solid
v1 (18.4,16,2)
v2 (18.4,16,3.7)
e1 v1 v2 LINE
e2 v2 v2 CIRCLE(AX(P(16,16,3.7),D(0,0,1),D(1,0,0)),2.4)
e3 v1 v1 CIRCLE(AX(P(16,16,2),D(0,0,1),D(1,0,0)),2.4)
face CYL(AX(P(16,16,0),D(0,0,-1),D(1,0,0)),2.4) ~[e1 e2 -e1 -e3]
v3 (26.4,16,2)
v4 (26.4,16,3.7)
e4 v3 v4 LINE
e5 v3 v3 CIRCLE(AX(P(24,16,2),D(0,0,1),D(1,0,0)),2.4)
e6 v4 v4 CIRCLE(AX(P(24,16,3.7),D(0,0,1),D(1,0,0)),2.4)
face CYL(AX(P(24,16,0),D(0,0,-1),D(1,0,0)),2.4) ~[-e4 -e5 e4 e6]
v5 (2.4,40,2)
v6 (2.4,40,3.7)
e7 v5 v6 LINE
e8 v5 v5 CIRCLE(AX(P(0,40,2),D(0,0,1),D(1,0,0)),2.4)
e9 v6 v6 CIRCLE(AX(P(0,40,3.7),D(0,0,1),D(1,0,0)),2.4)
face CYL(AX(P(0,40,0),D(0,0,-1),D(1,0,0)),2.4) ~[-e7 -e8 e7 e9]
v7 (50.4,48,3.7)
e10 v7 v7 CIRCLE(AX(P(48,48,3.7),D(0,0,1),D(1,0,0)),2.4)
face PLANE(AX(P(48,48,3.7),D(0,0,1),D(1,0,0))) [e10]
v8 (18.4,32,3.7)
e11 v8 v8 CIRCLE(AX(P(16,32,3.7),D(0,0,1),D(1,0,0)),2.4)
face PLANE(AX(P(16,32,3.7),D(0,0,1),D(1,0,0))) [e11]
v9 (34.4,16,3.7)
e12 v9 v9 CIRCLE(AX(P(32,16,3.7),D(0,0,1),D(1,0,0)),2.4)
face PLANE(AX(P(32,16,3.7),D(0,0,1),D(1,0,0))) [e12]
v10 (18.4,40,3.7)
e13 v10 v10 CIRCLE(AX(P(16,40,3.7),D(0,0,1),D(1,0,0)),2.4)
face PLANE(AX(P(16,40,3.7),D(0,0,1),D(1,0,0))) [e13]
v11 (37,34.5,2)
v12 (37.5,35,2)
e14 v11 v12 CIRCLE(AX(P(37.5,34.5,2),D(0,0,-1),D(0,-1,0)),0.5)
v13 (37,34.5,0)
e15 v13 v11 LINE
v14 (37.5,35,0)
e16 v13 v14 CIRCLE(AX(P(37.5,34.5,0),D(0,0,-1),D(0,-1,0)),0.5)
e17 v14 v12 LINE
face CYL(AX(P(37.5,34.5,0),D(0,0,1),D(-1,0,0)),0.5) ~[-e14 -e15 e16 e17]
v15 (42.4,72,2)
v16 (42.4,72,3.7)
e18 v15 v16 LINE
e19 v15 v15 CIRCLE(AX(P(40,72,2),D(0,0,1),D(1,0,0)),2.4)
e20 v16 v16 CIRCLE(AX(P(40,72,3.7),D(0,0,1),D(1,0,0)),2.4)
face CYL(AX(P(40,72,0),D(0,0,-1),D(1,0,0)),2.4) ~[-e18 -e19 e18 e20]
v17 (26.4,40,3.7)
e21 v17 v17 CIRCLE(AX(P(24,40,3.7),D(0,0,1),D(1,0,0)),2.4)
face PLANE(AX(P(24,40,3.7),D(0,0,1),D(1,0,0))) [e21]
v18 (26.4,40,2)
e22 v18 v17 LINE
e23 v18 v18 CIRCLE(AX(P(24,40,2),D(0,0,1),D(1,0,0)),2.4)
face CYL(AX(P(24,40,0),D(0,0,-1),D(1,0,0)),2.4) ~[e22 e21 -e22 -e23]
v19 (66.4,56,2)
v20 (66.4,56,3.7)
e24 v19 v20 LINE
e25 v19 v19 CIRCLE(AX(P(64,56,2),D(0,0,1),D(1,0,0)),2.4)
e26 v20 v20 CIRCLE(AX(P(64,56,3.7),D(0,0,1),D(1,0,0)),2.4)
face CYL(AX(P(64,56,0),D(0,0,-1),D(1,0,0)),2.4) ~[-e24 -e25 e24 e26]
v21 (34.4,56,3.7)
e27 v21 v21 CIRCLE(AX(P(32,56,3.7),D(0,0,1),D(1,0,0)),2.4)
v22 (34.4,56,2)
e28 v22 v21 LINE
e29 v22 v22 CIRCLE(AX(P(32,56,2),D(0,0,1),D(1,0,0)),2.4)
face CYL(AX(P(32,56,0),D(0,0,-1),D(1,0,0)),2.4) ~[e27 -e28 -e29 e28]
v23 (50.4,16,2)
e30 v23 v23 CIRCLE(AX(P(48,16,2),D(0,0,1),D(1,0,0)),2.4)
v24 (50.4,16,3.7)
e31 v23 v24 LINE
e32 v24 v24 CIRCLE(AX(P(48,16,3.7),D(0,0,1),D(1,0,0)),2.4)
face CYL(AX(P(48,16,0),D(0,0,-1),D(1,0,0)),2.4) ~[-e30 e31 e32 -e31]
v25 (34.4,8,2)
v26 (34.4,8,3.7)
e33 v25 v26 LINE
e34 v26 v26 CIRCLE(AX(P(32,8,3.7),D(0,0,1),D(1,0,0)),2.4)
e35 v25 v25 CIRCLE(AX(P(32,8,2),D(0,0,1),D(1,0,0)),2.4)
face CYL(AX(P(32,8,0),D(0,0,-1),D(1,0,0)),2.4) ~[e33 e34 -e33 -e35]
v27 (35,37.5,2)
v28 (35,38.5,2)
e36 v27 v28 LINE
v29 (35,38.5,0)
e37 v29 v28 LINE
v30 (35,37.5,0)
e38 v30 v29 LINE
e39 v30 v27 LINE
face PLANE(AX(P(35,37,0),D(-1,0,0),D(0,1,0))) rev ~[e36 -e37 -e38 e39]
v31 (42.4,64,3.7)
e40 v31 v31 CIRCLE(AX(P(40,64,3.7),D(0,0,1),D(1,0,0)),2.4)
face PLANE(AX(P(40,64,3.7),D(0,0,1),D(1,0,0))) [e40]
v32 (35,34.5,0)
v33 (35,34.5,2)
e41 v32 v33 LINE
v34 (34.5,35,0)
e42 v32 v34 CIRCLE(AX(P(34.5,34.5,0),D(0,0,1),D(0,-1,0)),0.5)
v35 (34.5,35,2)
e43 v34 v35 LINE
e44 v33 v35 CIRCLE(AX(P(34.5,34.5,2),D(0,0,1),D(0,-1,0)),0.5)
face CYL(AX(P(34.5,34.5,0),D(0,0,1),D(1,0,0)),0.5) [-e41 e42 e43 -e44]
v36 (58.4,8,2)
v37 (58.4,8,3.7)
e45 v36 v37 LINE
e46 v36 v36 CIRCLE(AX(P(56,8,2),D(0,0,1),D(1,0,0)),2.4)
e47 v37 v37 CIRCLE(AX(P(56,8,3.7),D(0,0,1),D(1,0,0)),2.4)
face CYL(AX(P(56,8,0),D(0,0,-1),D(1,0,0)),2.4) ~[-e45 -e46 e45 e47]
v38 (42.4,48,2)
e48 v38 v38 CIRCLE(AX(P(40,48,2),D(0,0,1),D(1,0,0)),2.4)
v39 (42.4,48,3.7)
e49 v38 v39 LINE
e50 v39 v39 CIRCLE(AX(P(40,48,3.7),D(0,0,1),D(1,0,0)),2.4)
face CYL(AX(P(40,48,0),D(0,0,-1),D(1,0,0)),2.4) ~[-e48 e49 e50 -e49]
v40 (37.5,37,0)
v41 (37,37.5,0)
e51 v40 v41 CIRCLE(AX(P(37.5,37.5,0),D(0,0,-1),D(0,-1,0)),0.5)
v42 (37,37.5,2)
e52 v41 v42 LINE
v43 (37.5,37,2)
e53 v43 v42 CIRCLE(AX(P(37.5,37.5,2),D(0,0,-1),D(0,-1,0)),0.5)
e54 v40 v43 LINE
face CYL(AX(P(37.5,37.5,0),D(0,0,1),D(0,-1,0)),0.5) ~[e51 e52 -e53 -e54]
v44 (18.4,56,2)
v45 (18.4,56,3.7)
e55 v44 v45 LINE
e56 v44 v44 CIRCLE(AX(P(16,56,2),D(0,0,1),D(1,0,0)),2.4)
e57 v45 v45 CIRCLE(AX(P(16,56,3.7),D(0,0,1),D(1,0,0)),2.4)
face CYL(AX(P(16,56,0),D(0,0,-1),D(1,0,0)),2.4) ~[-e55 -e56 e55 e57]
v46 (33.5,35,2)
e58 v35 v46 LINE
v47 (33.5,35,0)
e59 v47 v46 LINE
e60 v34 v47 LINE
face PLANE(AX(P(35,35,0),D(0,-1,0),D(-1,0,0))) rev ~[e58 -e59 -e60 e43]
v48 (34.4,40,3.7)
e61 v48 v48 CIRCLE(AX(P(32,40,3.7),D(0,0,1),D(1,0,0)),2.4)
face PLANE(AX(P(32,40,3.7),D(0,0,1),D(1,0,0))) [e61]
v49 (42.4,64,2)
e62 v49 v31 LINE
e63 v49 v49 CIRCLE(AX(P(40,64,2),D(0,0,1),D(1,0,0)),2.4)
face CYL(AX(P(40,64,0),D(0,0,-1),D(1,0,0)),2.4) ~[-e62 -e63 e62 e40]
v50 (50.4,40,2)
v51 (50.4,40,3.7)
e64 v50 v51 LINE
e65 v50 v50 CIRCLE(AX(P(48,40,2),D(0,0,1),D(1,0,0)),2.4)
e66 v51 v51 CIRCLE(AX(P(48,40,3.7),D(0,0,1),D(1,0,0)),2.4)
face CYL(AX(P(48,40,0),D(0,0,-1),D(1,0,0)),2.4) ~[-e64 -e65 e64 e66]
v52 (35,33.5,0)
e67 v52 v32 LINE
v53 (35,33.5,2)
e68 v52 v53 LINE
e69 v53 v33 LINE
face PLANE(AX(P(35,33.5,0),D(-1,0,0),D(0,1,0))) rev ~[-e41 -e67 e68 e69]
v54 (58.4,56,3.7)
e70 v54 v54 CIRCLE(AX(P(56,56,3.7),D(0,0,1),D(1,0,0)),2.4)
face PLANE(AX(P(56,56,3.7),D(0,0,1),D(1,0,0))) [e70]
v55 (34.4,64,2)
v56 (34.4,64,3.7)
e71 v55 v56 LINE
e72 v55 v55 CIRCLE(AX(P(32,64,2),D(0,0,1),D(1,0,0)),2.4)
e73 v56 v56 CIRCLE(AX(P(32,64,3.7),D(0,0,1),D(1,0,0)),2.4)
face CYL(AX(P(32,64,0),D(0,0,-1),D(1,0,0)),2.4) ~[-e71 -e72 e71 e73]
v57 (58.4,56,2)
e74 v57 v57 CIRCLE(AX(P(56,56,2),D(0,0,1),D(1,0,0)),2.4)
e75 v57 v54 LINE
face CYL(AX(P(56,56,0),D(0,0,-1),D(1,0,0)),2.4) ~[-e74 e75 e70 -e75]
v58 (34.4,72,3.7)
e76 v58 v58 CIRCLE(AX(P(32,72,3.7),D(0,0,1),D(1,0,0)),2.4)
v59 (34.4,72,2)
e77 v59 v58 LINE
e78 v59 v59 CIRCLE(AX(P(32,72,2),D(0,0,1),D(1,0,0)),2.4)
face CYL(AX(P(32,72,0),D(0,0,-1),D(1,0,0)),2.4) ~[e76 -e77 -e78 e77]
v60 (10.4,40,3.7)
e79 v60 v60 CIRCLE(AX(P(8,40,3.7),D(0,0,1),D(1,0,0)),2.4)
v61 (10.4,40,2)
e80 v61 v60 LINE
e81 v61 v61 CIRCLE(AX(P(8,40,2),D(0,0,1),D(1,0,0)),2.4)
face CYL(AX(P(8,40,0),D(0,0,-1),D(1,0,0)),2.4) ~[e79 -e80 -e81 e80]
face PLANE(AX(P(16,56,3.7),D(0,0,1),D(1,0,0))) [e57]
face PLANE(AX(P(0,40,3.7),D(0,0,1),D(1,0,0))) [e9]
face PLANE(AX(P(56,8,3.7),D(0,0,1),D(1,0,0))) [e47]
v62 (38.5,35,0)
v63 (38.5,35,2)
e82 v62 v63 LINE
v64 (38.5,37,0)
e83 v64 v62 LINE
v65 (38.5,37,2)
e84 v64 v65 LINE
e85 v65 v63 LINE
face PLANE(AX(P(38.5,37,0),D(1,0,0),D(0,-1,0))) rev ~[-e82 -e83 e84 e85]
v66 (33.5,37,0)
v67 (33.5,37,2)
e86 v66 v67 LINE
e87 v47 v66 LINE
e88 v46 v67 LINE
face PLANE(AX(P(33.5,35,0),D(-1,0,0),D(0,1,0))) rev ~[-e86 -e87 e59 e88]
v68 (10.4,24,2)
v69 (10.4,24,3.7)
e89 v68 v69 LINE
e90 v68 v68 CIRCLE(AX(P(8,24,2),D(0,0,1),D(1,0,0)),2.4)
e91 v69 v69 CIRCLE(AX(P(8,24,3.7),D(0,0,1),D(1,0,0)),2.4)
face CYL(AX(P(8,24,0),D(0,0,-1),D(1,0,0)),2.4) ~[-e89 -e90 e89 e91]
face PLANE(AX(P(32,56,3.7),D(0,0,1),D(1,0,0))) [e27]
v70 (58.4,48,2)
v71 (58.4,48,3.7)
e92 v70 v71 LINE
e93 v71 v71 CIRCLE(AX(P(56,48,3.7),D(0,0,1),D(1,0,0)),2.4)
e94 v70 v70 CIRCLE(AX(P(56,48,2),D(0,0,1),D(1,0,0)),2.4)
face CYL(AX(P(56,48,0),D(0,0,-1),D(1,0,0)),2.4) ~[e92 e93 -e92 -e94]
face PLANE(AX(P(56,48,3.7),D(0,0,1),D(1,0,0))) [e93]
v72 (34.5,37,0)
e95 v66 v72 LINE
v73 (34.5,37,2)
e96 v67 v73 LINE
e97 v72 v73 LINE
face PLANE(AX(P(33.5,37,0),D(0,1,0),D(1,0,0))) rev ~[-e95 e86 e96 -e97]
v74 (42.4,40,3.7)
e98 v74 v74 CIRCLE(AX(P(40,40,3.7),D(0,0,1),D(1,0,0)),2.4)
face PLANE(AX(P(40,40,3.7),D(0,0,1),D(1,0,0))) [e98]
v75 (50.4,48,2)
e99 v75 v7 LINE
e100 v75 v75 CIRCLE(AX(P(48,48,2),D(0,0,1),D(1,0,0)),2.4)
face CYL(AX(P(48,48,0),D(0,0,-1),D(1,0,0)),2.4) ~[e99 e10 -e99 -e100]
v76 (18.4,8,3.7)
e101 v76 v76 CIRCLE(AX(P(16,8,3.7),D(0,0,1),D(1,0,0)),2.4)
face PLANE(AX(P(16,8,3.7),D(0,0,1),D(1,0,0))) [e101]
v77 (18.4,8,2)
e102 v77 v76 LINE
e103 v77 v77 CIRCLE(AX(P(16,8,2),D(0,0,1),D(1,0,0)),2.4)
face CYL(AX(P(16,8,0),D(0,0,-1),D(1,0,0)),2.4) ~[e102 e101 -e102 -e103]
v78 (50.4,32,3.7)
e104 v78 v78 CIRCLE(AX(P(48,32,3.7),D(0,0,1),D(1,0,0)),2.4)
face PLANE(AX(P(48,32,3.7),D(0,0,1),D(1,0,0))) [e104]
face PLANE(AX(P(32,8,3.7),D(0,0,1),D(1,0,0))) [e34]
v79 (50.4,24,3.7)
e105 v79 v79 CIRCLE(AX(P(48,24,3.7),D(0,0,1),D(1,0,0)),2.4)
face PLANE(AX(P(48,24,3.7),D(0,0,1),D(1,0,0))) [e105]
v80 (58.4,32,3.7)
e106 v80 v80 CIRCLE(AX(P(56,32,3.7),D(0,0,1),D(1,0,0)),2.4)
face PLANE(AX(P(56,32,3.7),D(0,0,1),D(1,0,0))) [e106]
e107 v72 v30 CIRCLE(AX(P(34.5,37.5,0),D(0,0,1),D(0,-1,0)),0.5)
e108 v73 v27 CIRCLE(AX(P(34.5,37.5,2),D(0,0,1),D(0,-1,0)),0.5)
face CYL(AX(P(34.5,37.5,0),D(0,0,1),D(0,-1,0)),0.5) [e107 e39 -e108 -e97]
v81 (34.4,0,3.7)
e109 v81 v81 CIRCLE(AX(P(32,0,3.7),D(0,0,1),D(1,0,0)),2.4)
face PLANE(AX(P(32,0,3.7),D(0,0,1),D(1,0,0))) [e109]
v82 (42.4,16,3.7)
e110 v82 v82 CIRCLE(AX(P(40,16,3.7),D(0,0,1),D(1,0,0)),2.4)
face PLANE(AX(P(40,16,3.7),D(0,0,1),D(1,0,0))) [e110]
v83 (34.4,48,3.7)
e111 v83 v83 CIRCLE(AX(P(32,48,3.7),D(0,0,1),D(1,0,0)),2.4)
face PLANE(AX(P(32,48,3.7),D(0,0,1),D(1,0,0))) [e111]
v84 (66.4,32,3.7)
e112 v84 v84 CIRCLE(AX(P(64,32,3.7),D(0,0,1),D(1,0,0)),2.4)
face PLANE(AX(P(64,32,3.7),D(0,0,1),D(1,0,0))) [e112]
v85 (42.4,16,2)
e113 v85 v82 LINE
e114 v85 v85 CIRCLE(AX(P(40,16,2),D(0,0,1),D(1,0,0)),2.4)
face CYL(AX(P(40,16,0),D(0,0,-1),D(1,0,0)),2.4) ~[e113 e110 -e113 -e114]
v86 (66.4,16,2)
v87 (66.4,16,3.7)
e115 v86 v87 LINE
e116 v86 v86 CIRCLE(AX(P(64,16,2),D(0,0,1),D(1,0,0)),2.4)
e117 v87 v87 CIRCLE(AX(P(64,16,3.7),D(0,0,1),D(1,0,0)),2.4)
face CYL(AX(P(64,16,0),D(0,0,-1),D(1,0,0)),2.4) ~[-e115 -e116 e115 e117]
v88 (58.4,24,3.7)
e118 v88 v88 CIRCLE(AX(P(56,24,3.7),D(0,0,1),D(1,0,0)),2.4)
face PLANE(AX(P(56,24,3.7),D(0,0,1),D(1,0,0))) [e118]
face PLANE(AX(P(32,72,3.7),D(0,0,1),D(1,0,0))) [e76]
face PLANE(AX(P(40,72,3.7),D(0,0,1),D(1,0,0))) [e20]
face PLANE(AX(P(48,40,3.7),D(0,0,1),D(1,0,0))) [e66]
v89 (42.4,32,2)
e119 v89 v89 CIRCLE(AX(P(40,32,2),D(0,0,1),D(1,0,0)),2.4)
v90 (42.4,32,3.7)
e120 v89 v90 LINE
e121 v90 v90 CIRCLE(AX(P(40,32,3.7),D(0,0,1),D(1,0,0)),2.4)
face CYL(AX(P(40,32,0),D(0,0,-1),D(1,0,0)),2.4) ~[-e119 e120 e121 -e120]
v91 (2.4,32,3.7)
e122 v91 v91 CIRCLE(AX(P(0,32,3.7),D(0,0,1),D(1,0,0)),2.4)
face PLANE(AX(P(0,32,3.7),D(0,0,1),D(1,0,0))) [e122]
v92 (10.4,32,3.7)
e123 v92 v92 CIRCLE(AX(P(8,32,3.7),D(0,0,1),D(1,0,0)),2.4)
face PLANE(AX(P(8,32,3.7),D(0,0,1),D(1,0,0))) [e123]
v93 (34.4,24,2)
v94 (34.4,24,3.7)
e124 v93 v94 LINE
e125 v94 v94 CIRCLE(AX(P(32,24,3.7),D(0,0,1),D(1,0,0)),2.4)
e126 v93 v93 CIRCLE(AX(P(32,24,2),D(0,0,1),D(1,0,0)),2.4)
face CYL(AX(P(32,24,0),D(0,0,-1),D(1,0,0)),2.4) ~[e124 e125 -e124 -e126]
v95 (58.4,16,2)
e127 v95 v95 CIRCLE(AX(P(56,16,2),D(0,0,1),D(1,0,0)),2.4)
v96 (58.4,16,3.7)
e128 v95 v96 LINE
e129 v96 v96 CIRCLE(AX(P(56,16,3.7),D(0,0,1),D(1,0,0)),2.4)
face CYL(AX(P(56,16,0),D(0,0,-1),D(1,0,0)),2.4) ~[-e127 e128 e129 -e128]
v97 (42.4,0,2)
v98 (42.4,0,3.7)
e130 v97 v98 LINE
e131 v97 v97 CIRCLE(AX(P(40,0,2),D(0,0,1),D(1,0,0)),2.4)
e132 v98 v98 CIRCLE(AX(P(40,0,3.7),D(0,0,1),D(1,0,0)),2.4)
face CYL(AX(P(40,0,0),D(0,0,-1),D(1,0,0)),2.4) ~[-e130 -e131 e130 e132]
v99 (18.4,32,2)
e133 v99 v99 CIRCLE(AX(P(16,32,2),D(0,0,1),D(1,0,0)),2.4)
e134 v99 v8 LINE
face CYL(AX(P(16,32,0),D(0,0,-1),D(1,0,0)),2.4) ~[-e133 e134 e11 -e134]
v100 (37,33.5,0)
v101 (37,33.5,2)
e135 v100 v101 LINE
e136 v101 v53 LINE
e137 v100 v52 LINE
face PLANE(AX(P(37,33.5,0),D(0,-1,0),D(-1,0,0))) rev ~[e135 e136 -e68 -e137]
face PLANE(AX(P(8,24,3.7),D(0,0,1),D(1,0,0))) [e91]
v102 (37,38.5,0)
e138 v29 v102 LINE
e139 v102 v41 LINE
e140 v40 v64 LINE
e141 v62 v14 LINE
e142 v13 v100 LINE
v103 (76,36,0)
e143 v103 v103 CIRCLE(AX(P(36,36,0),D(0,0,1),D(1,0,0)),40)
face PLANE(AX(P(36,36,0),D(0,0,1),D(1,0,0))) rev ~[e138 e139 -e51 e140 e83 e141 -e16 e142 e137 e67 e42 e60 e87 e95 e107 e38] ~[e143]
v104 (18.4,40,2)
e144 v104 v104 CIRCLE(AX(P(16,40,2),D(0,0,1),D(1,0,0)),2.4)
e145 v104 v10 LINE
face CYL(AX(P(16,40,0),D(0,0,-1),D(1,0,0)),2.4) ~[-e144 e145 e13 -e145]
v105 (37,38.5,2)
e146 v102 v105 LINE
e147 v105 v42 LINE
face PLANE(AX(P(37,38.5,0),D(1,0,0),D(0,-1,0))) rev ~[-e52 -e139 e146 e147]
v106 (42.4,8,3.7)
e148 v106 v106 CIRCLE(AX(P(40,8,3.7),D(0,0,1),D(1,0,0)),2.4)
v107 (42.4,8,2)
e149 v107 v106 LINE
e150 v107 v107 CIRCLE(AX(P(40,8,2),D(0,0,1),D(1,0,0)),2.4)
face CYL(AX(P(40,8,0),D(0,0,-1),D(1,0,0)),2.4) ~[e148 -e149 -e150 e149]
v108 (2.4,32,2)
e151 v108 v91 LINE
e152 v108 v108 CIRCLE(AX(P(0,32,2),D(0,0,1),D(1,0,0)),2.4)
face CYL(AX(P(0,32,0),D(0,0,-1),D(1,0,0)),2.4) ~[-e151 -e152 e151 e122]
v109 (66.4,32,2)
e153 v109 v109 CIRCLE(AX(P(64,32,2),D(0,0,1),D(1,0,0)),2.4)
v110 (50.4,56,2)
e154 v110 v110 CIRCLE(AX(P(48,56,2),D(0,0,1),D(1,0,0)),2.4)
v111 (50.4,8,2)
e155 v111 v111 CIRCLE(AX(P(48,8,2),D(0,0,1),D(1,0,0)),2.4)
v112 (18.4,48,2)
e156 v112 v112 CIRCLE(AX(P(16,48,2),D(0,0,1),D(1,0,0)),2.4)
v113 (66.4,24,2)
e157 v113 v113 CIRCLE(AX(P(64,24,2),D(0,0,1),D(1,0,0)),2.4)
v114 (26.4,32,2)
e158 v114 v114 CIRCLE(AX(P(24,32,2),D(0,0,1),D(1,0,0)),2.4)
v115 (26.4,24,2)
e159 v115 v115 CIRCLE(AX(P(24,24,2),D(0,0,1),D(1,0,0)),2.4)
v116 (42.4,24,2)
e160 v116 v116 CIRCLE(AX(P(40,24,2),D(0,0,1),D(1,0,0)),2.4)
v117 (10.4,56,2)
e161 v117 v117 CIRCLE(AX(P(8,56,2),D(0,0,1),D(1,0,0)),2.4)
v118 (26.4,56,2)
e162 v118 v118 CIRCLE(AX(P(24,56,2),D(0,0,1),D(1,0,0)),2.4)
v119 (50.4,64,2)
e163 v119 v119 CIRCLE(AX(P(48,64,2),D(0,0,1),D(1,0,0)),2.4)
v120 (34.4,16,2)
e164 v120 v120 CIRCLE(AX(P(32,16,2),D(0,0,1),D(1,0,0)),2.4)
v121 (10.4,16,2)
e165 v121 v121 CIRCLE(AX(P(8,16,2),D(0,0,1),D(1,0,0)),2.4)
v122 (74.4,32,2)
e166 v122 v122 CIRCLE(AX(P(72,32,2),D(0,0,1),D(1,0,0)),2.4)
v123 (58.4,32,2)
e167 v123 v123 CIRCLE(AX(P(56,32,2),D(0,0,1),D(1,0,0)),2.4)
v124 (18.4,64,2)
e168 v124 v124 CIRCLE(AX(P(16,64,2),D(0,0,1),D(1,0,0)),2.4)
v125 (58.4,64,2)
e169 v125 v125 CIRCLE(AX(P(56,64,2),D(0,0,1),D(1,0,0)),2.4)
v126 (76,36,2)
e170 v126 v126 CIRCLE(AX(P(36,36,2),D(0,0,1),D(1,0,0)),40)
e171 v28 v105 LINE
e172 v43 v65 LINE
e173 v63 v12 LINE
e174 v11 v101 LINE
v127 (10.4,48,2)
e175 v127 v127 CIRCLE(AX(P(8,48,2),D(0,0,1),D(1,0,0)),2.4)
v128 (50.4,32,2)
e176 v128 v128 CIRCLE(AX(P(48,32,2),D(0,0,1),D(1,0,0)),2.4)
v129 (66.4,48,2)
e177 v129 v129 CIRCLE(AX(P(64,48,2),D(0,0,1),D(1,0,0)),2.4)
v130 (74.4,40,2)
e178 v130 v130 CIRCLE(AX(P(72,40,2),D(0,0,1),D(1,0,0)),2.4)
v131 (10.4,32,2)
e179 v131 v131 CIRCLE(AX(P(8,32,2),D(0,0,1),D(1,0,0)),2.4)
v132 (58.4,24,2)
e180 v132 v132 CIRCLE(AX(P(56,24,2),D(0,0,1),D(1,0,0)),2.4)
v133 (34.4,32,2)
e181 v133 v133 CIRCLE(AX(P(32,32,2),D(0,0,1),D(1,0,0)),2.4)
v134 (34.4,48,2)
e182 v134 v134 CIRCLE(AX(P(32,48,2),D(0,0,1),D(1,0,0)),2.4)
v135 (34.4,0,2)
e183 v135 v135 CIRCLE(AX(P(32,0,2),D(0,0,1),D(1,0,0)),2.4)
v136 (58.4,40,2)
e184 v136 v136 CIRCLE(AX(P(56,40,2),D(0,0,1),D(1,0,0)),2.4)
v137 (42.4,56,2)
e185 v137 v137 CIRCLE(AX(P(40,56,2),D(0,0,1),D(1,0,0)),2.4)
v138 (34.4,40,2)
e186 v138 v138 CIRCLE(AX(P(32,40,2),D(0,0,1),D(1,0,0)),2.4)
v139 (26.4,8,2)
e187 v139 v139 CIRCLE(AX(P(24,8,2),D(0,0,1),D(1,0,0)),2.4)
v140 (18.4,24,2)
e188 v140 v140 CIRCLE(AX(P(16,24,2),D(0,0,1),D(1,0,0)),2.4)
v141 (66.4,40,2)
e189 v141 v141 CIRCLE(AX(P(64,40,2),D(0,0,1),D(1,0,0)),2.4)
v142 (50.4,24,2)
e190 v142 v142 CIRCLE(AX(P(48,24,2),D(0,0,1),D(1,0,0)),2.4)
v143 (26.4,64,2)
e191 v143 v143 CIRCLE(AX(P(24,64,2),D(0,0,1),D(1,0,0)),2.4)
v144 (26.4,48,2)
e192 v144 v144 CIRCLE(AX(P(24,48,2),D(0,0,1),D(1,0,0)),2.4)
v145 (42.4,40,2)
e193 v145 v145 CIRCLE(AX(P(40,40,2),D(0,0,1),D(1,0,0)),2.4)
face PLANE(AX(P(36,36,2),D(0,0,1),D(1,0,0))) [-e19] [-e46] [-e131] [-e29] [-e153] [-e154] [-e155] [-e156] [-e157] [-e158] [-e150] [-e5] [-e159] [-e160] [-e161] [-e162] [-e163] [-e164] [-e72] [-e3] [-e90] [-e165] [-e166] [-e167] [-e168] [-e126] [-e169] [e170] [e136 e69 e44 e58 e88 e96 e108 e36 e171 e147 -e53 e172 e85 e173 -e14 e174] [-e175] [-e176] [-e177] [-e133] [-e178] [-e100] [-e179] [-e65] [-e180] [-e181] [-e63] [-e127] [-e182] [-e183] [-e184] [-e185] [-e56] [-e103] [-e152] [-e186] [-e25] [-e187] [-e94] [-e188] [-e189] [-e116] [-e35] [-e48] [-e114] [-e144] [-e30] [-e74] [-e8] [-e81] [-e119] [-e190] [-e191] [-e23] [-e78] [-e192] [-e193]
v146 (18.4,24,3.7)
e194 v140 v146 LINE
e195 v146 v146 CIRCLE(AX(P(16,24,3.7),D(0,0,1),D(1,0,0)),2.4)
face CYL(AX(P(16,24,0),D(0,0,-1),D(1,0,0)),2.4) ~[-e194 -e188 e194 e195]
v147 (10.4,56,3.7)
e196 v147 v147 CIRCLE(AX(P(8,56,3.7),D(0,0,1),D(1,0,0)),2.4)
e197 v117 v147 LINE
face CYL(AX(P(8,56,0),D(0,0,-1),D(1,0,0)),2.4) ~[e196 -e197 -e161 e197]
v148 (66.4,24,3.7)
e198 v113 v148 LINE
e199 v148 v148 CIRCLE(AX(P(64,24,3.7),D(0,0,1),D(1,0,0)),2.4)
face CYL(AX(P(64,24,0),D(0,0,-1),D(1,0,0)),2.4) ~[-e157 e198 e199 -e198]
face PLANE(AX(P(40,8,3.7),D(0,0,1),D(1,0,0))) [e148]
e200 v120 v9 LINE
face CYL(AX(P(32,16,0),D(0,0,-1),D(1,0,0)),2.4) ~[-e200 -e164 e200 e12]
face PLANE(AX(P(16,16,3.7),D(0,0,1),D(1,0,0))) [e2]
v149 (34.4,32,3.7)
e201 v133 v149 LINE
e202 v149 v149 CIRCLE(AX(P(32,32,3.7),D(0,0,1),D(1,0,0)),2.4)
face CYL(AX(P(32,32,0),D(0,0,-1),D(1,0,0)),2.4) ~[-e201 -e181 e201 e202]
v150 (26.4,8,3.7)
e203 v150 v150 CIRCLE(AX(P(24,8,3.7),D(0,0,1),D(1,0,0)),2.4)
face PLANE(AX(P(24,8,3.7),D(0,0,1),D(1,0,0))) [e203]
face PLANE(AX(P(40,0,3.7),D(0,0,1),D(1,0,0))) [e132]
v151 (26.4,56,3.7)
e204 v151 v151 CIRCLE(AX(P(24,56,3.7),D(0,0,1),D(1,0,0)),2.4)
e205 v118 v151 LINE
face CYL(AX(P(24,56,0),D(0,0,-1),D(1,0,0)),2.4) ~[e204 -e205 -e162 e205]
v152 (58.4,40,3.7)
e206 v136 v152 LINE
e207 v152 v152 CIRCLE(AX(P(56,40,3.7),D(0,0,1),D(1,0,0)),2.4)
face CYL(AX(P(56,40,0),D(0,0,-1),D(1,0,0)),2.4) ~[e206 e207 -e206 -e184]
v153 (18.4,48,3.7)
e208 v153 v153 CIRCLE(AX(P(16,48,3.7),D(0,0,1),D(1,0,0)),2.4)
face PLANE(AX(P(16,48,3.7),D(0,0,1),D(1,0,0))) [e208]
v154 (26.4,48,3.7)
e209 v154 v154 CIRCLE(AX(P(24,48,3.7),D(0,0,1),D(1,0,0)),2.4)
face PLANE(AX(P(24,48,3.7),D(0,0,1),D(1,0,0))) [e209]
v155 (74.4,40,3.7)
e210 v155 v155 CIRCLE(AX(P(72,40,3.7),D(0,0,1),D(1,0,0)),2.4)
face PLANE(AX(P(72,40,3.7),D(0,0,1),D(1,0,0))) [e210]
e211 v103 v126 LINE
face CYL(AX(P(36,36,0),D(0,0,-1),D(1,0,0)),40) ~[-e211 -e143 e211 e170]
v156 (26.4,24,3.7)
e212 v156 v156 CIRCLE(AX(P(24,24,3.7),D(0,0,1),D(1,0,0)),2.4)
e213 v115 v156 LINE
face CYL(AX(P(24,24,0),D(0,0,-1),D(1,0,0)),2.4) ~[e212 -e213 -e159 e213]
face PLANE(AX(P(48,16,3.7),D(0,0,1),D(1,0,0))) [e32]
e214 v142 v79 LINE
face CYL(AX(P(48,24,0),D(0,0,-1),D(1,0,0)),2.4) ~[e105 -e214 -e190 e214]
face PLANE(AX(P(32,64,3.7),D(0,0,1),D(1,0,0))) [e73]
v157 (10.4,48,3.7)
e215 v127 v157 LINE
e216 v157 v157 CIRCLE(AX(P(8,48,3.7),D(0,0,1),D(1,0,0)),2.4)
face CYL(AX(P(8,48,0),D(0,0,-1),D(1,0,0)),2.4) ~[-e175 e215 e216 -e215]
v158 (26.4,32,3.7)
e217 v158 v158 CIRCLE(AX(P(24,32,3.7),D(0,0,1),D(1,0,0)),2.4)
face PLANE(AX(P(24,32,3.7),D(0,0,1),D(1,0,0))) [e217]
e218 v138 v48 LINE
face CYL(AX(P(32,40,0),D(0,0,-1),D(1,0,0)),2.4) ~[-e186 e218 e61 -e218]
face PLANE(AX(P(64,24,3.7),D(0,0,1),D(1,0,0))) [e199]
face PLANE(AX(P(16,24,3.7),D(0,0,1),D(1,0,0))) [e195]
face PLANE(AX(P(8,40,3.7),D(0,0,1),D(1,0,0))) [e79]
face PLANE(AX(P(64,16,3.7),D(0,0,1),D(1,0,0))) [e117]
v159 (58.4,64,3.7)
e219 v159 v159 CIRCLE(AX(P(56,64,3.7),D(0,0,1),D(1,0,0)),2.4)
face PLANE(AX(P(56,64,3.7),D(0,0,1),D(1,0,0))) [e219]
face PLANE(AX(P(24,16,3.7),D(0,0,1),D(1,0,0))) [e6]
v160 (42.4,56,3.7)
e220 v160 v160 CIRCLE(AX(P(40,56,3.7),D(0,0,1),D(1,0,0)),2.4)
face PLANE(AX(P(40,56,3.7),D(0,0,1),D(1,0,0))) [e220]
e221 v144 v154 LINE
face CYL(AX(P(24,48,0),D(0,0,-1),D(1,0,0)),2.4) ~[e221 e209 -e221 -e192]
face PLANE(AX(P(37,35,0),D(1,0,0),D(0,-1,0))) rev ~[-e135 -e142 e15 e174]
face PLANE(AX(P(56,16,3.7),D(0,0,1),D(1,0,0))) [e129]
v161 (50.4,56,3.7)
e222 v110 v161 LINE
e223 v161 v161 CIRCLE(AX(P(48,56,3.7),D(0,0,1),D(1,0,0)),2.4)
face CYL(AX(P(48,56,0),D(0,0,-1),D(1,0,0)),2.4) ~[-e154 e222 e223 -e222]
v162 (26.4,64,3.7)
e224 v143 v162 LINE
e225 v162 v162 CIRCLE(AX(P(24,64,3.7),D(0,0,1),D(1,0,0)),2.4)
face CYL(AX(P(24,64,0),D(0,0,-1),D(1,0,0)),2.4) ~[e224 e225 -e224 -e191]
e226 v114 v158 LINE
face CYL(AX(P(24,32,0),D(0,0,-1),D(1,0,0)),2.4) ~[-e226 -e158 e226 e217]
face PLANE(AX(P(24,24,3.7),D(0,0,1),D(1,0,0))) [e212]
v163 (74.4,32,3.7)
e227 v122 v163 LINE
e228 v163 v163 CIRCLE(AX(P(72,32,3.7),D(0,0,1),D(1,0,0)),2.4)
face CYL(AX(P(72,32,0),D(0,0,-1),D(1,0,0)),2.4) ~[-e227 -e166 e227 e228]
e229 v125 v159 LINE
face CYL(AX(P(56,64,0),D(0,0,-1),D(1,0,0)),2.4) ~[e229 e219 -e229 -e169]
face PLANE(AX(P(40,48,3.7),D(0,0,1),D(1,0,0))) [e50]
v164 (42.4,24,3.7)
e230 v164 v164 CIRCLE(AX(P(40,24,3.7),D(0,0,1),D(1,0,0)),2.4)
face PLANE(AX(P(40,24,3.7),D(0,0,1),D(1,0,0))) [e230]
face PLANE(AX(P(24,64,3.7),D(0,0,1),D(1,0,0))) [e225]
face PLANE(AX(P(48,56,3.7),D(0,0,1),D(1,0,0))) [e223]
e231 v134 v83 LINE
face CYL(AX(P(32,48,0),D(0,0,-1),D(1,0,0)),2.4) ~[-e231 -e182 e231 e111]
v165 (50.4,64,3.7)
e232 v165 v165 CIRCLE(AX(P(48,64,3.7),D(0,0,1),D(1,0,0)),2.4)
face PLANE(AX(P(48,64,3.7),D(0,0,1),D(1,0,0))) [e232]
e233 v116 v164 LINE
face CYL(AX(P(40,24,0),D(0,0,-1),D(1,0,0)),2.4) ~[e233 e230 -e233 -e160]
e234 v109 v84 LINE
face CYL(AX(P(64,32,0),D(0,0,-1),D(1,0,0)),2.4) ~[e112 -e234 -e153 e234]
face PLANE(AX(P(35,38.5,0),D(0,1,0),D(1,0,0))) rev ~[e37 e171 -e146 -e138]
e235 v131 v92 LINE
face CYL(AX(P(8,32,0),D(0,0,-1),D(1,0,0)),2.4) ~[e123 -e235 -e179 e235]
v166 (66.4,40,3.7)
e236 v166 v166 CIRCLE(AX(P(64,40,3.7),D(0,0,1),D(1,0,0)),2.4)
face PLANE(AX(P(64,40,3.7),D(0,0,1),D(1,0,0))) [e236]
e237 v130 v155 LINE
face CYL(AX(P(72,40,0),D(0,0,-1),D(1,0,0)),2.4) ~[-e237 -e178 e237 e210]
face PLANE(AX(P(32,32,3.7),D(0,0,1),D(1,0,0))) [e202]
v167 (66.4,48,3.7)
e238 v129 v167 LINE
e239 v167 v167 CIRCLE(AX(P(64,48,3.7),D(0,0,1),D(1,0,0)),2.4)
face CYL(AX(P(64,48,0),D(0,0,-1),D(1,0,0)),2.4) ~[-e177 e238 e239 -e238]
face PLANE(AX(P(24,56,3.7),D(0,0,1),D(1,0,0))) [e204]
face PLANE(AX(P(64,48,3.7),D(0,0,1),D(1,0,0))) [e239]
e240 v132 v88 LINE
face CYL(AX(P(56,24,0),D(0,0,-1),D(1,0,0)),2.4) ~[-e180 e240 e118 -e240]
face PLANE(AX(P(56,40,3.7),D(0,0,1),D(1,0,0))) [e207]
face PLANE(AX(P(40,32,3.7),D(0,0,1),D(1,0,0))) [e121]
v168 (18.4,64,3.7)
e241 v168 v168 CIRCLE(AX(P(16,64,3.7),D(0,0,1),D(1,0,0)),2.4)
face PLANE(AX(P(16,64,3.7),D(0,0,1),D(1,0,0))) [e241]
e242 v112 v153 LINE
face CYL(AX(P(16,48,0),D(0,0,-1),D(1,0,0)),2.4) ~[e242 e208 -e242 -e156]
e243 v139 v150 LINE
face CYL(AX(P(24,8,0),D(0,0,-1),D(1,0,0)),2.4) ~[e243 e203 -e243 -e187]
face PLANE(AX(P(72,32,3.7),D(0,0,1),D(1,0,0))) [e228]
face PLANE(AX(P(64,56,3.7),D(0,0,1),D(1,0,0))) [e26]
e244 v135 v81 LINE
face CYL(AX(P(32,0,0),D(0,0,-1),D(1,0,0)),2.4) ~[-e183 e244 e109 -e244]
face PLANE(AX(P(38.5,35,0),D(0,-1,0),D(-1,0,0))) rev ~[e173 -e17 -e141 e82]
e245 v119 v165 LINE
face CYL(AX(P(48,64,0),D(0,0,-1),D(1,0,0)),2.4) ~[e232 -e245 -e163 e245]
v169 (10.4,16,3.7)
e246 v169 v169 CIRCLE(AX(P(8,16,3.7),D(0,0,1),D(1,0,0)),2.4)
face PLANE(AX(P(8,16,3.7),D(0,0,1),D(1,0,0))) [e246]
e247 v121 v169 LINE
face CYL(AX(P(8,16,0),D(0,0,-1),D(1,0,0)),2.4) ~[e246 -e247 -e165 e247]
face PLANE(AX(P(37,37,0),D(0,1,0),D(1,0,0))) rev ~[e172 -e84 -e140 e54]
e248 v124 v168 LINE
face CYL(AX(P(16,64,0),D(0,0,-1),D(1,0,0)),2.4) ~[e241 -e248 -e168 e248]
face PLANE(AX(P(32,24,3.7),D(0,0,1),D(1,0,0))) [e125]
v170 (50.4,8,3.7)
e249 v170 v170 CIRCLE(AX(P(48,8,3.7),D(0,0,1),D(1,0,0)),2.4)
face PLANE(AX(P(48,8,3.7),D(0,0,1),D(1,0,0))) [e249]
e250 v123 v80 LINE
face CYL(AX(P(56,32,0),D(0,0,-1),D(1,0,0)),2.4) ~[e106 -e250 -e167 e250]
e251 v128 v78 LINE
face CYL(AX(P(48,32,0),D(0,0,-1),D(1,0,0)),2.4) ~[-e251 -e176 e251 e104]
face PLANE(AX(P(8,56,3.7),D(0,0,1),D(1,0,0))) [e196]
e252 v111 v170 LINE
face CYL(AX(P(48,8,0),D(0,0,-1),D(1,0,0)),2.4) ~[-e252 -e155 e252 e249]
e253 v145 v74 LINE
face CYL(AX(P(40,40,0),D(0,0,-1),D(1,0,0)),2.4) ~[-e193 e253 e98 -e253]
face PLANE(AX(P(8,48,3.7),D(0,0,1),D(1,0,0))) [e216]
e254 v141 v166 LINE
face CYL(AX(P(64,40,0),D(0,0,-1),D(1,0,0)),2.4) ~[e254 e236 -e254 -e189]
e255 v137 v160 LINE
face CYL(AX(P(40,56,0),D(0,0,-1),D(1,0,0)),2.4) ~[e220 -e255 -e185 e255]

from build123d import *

# Parameters (mm, degrees)
F0_R     = 2.4
F1_DEPTH = 3.7
F0_R_2   = 40
F2_DEPTH = 2
F3_R     = 0.5


with BuildPart() as f1:
    # F0 (on Top) → F1 (new body)
    with BuildSketch(Plane.XY):
        with Locations((8, 16)):
            Circle(F0_R)
        with Locations((16, 8)):
            Circle(F0_R)
        with Locations((24, 8)):
            Circle(F0_R)
        with Locations((16, 16)):
            Circle(F0_R)
        with Locations((24, 16)):
            Circle(F0_R)
        with Locations((32, 0)):
            Circle(F0_R)
        with Locations((32, 8)):
            Circle(F0_R)
        with Locations((32, 16)):
            Circle(F0_R)
        with Locations((32, 24)):
            Circle(F0_R)
        with Locations((24, 24)):
            Circle(F0_R)
        with Locations((16, 24)):
            Circle(F0_R)
        with Locations((8, 24)):
            Circle(F0_R)
        with Locations((0, 32)):
            Circle(F0_R)
        with Locations((8, 32)):
            Circle(F0_R)
        with Locations((16, 32)):
            Circle(F0_R)
        with Locations((24, 32)):
            Circle(F0_R)
        with Locations((32, 32)):
            Circle(F0_R)
        with Locations((32, 40)):
            Circle(F0_R)
        with Locations((24, 40)):
            Circle(F0_R)
        with Locations((16, 40)):
            Circle(F0_R)
        with Locations((8, 40)):
            Circle(F0_R)
        with Locations((0, 40)):
            Circle(F0_R)
        with Locations((8, 48)):
            Circle(F0_R)
        with Locations((16, 48)):
            Circle(F0_R)
        with Locations((32, 48)):
            Circle(F0_R)
        with Locations((32, 56)):
            Circle(F0_R)
        with Locations((24, 56)):
            Circle(F0_R)
        with Locations((16, 56)):
            Circle(F0_R)
        with Locations((8, 56)):
            Circle(F0_R)
        with Locations((24, 48)):
            Circle(F0_R)
        with Locations((16, 64)):
            Circle(F0_R)
        with Locations((24, 64)):
            Circle(F0_R)
        with Locations((32, 64)):
            Circle(F0_R)
        with Locations((32, 72)):
            Circle(F0_R)
        with Locations((40, 72)):
            Circle(F0_R)
        with Locations((40, 64)):
            Circle(F0_R)
        with Locations((40, 56)):
            Circle(F0_R)
        with Locations((40, 48)):
            Circle(F0_R)
        with Locations((40, 40)):
            Circle(F0_R)
        with Locations((40, 32)):
            Circle(F0_R)
        with Locations((40, 24)):
            Circle(F0_R)
        with Locations((40, 16)):
            Circle(F0_R)
        with Locations((40, 8)):
            Circle(F0_R)
        with Locations((40, 0)):
            Circle(F0_R)
        with Locations((48, 8)):
            Circle(F0_R)
        with Locations((48, 16)):
            Circle(F0_R)
        with Locations((48, 24)):
            Circle(F0_R)
        with Locations((48, 32)):
            Circle(F0_R)
        with Locations((48, 40)):
            Circle(F0_R)
        with Locations((48, 48)):
            Circle(F0_R)
        with Locations((48, 56)):
            Circle(F0_R)
        with Locations((48, 64)):
            Circle(F0_R)
        with Locations((56, 64)):
            Circle(F0_R)
        with Locations((56, 56)):
            Circle(F0_R)
        with Locations((56, 48)):
            Circle(F0_R)
        with Locations((56, 40)):
            Circle(F0_R)
        with Locations((56, 32)):
            Circle(F0_R)
        with Locations((56, 24)):
            Circle(F0_R)
        with Locations((56, 16)):
            Circle(F0_R)
        with Locations((56, 8)):
            Circle(F0_R)
        with Locations((64, 16)):
            Circle(F0_R)
        with Locations((64, 24)):
            Circle(F0_R)
        with Locations((64, 32)):
            Circle(F0_R)
        with Locations((64, 40)):
            Circle(F0_R)
        with Locations((64, 48)):
            Circle(F0_R)
        with Locations((64, 56)):
            Circle(F0_R)
        with Locations((72, 40)):
            Circle(F0_R)
        with Locations((72, 32)):
            Circle(F0_R)
    extrude(amount=F1_DEPTH)

    # F0 (on Top) → F2 (join)
    with BuildSketch(Plane.XY):
        with Locations((36, 36)):
            Circle(F0_R_2)
        with Locations((32, 0)):
            Circle(F0_R, mode=Mode.SUBTRACT)
        with Locations((16, 8)):
            Circle(F0_R, mode=Mode.SUBTRACT)
        with Locations((24, 8)):
            Circle(F0_R, mode=Mode.SUBTRACT)
        with Locations((32, 8)):
            Circle(F0_R, mode=Mode.SUBTRACT)
        with Locations((8, 16)):
            Circle(F0_R, mode=Mode.SUBTRACT)
        with Locations((8, 24)):
            Circle(F0_R, mode=Mode.SUBTRACT)
        with Locations((0, 32)):
            Circle(F0_R, mode=Mode.SUBTRACT)
        with Locations((8, 32)):
            Circle(F0_R, mode=Mode.SUBTRACT)
        with Locations((16, 16)):
            Circle(F0_R, mode=Mode.SUBTRACT)
        with Locations((24, 16)):
            Circle(F0_R, mode=Mode.SUBTRACT)
        with Locations((16, 24)):
            Circle(F0_R, mode=Mode.SUBTRACT)
        with Locations((24, 24)):
            Circle(F0_R, mode=Mode.SUBTRACT)
        with Locations((32, 16)):
            Circle(F0_R, mode=Mode.SUBTRACT)
        with Locations((32, 24)):
            Circle(F0_R, mode=Mode.SUBTRACT)
        with Locations((16, 32)):
            Circle(F0_R, mode=Mode.SUBTRACT)
        with Locations((24, 32)):
            Circle(F0_R, mode=Mode.SUBTRACT)
        with Locations((32, 32)):
            Circle(F0_R, mode=Mode.SUBTRACT)
        with Locations((40, 0)):
            Circle(F0_R, mode=Mode.SUBTRACT)
        with Locations((40, 8)):
            Circle(F0_R, mode=Mode.SUBTRACT)
        with Locations((48, 8)):
            Circle(F0_R, mode=Mode.SUBTRACT)
        with Locations((56, 8)):
            Circle(F0_R, mode=Mode.SUBTRACT)
        with Locations((40, 16)):
            Circle(F0_R, mode=Mode.SUBTRACT)
        with Locations((40, 24)):
            Circle(F0_R, mode=Mode.SUBTRACT)
        with Locations((48, 16)):
            Circle(F0_R, mode=Mode.SUBTRACT)
        with Locations((48, 24)):
            Circle(F0_R, mode=Mode.SUBTRACT)
        with Locations((40, 32)):
            Circle(F0_R, mode=Mode.SUBTRACT)
        with Locations((48, 32)):
            Circle(F0_R, mode=Mode.SUBTRACT)
        with Locations((56, 16)):
            Circle(F0_R, mode=Mode.SUBTRACT)
        with Locations((64, 16)):
            Circle(F0_R, mode=Mode.SUBTRACT)
        with Locations((56, 24)):
            Circle(F0_R, mode=Mode.SUBTRACT)
        with Locations((64, 24)):
            Circle(F0_R, mode=Mode.SUBTRACT)
        with Locations((56, 32)):
            Circle(F0_R, mode=Mode.SUBTRACT)
        with Locations((64, 32)):
            Circle(F0_R, mode=Mode.SUBTRACT)
        with Locations((72, 32)):
            Circle(F0_R, mode=Mode.SUBTRACT)
        with Locations((0, 40)):
            Circle(F0_R, mode=Mode.SUBTRACT)
        with Locations((8, 40)):
            Circle(F0_R, mode=Mode.SUBTRACT)
        with Locations((8, 48)):
            Circle(F0_R, mode=Mode.SUBTRACT)
        with Locations((16, 40)):
            Circle(F0_R, mode=Mode.SUBTRACT)
        with Locations((24, 40)):
            Circle(F0_R, mode=Mode.SUBTRACT)
        with Locations((32, 40)):
            Circle(F0_R, mode=Mode.SUBTRACT)
        with Locations((16, 48)):
            Circle(F0_R, mode=Mode.SUBTRACT)
        with Locations((24, 48)):
            Circle(F0_R, mode=Mode.SUBTRACT)
        with Locations((32, 48)):
            Circle(F0_R, mode=Mode.SUBTRACT)
        with Locations((8, 56)):
            Circle(F0_R, mode=Mode.SUBTRACT)
        with Locations((16, 56)):
            Circle(F0_R, mode=Mode.SUBTRACT)
        with Locations((24, 56)):
            Circle(F0_R, mode=Mode.SUBTRACT)
        with Locations((16, 64)):
            Circle(F0_R, mode=Mode.SUBTRACT)
        with Locations((24, 64)):
            Circle(F0_R, mode=Mode.SUBTRACT)
        with Locations((32, 56)):
            Circle(F0_R, mode=Mode.SUBTRACT)
        with Locations((32, 64)):
            Circle(F0_R, mode=Mode.SUBTRACT)
        with Locations((32, 72)):
            Circle(F0_R, mode=Mode.SUBTRACT)
        Polygon((37, 33.5), (35, 33.5), (35, 35), (33.5, 35), (33.5, 37), (35, 37), (35, 38.5), (37, 38.5), (37, 37), (38.5, 37), (38.5, 35), (37, 35), align=None, mode=Mode.SUBTRACT)
        with Locations((40, 40)):
            Circle(F0_R, mode=Mode.SUBTRACT)
        with Locations((48, 40)):
            Circle(F0_R, mode=Mode.SUBTRACT)
        with Locations((40, 48)):
            Circle(F0_R, mode=Mode.SUBTRACT)
        with Locations((48, 48)):
            Circle(F0_R, mode=Mode.SUBTRACT)
        with Locations((56, 40)):
            Circle(F0_R, mode=Mode.SUBTRACT)
        with Locations((64, 40)):
            Circle(F0_R, mode=Mode.SUBTRACT)
        with Locations((72, 40)):
            Circle(F0_R, mode=Mode.SUBTRACT)
        with Locations((56, 48)):
            Circle(F0_R, mode=Mode.SUBTRACT)
        with Locations((64, 48)):
            Circle(F0_R, mode=Mode.SUBTRACT)
        with Locations((40, 56)):
            Circle(F0_R, mode=Mode.SUBTRACT)
        with Locations((40, 64)):
            Circle(F0_R, mode=Mode.SUBTRACT)
        with Locations((48, 56)):
            Circle(F0_R, mode=Mode.SUBTRACT)
        with Locations((48, 64)):
            Circle(F0_R, mode=Mode.SUBTRACT)
        with Locations((40, 72)):
            Circle(F0_R, mode=Mode.SUBTRACT)
        with Locations((56, 56)):
            Circle(F0_R, mode=Mode.SUBTRACT)
        with Locations((64, 56)):
            Circle(F0_R, mode=Mode.SUBTRACT)
        with Locations((56, 64)):
            Circle(F0_R, mode=Mode.SUBTRACT)
    extrude(amount=F2_DEPTH)

    # F3
    f3_edges = [f1.edges().sort_by_distance(p)[0] for p in [
        (37, 35, 1),
        (37, 37, 1),
        (35, 37, 1),
        (35, 35, 1),
    ]]
    fillet(f3_edges, radius=F3_R)


solid = f1.part
